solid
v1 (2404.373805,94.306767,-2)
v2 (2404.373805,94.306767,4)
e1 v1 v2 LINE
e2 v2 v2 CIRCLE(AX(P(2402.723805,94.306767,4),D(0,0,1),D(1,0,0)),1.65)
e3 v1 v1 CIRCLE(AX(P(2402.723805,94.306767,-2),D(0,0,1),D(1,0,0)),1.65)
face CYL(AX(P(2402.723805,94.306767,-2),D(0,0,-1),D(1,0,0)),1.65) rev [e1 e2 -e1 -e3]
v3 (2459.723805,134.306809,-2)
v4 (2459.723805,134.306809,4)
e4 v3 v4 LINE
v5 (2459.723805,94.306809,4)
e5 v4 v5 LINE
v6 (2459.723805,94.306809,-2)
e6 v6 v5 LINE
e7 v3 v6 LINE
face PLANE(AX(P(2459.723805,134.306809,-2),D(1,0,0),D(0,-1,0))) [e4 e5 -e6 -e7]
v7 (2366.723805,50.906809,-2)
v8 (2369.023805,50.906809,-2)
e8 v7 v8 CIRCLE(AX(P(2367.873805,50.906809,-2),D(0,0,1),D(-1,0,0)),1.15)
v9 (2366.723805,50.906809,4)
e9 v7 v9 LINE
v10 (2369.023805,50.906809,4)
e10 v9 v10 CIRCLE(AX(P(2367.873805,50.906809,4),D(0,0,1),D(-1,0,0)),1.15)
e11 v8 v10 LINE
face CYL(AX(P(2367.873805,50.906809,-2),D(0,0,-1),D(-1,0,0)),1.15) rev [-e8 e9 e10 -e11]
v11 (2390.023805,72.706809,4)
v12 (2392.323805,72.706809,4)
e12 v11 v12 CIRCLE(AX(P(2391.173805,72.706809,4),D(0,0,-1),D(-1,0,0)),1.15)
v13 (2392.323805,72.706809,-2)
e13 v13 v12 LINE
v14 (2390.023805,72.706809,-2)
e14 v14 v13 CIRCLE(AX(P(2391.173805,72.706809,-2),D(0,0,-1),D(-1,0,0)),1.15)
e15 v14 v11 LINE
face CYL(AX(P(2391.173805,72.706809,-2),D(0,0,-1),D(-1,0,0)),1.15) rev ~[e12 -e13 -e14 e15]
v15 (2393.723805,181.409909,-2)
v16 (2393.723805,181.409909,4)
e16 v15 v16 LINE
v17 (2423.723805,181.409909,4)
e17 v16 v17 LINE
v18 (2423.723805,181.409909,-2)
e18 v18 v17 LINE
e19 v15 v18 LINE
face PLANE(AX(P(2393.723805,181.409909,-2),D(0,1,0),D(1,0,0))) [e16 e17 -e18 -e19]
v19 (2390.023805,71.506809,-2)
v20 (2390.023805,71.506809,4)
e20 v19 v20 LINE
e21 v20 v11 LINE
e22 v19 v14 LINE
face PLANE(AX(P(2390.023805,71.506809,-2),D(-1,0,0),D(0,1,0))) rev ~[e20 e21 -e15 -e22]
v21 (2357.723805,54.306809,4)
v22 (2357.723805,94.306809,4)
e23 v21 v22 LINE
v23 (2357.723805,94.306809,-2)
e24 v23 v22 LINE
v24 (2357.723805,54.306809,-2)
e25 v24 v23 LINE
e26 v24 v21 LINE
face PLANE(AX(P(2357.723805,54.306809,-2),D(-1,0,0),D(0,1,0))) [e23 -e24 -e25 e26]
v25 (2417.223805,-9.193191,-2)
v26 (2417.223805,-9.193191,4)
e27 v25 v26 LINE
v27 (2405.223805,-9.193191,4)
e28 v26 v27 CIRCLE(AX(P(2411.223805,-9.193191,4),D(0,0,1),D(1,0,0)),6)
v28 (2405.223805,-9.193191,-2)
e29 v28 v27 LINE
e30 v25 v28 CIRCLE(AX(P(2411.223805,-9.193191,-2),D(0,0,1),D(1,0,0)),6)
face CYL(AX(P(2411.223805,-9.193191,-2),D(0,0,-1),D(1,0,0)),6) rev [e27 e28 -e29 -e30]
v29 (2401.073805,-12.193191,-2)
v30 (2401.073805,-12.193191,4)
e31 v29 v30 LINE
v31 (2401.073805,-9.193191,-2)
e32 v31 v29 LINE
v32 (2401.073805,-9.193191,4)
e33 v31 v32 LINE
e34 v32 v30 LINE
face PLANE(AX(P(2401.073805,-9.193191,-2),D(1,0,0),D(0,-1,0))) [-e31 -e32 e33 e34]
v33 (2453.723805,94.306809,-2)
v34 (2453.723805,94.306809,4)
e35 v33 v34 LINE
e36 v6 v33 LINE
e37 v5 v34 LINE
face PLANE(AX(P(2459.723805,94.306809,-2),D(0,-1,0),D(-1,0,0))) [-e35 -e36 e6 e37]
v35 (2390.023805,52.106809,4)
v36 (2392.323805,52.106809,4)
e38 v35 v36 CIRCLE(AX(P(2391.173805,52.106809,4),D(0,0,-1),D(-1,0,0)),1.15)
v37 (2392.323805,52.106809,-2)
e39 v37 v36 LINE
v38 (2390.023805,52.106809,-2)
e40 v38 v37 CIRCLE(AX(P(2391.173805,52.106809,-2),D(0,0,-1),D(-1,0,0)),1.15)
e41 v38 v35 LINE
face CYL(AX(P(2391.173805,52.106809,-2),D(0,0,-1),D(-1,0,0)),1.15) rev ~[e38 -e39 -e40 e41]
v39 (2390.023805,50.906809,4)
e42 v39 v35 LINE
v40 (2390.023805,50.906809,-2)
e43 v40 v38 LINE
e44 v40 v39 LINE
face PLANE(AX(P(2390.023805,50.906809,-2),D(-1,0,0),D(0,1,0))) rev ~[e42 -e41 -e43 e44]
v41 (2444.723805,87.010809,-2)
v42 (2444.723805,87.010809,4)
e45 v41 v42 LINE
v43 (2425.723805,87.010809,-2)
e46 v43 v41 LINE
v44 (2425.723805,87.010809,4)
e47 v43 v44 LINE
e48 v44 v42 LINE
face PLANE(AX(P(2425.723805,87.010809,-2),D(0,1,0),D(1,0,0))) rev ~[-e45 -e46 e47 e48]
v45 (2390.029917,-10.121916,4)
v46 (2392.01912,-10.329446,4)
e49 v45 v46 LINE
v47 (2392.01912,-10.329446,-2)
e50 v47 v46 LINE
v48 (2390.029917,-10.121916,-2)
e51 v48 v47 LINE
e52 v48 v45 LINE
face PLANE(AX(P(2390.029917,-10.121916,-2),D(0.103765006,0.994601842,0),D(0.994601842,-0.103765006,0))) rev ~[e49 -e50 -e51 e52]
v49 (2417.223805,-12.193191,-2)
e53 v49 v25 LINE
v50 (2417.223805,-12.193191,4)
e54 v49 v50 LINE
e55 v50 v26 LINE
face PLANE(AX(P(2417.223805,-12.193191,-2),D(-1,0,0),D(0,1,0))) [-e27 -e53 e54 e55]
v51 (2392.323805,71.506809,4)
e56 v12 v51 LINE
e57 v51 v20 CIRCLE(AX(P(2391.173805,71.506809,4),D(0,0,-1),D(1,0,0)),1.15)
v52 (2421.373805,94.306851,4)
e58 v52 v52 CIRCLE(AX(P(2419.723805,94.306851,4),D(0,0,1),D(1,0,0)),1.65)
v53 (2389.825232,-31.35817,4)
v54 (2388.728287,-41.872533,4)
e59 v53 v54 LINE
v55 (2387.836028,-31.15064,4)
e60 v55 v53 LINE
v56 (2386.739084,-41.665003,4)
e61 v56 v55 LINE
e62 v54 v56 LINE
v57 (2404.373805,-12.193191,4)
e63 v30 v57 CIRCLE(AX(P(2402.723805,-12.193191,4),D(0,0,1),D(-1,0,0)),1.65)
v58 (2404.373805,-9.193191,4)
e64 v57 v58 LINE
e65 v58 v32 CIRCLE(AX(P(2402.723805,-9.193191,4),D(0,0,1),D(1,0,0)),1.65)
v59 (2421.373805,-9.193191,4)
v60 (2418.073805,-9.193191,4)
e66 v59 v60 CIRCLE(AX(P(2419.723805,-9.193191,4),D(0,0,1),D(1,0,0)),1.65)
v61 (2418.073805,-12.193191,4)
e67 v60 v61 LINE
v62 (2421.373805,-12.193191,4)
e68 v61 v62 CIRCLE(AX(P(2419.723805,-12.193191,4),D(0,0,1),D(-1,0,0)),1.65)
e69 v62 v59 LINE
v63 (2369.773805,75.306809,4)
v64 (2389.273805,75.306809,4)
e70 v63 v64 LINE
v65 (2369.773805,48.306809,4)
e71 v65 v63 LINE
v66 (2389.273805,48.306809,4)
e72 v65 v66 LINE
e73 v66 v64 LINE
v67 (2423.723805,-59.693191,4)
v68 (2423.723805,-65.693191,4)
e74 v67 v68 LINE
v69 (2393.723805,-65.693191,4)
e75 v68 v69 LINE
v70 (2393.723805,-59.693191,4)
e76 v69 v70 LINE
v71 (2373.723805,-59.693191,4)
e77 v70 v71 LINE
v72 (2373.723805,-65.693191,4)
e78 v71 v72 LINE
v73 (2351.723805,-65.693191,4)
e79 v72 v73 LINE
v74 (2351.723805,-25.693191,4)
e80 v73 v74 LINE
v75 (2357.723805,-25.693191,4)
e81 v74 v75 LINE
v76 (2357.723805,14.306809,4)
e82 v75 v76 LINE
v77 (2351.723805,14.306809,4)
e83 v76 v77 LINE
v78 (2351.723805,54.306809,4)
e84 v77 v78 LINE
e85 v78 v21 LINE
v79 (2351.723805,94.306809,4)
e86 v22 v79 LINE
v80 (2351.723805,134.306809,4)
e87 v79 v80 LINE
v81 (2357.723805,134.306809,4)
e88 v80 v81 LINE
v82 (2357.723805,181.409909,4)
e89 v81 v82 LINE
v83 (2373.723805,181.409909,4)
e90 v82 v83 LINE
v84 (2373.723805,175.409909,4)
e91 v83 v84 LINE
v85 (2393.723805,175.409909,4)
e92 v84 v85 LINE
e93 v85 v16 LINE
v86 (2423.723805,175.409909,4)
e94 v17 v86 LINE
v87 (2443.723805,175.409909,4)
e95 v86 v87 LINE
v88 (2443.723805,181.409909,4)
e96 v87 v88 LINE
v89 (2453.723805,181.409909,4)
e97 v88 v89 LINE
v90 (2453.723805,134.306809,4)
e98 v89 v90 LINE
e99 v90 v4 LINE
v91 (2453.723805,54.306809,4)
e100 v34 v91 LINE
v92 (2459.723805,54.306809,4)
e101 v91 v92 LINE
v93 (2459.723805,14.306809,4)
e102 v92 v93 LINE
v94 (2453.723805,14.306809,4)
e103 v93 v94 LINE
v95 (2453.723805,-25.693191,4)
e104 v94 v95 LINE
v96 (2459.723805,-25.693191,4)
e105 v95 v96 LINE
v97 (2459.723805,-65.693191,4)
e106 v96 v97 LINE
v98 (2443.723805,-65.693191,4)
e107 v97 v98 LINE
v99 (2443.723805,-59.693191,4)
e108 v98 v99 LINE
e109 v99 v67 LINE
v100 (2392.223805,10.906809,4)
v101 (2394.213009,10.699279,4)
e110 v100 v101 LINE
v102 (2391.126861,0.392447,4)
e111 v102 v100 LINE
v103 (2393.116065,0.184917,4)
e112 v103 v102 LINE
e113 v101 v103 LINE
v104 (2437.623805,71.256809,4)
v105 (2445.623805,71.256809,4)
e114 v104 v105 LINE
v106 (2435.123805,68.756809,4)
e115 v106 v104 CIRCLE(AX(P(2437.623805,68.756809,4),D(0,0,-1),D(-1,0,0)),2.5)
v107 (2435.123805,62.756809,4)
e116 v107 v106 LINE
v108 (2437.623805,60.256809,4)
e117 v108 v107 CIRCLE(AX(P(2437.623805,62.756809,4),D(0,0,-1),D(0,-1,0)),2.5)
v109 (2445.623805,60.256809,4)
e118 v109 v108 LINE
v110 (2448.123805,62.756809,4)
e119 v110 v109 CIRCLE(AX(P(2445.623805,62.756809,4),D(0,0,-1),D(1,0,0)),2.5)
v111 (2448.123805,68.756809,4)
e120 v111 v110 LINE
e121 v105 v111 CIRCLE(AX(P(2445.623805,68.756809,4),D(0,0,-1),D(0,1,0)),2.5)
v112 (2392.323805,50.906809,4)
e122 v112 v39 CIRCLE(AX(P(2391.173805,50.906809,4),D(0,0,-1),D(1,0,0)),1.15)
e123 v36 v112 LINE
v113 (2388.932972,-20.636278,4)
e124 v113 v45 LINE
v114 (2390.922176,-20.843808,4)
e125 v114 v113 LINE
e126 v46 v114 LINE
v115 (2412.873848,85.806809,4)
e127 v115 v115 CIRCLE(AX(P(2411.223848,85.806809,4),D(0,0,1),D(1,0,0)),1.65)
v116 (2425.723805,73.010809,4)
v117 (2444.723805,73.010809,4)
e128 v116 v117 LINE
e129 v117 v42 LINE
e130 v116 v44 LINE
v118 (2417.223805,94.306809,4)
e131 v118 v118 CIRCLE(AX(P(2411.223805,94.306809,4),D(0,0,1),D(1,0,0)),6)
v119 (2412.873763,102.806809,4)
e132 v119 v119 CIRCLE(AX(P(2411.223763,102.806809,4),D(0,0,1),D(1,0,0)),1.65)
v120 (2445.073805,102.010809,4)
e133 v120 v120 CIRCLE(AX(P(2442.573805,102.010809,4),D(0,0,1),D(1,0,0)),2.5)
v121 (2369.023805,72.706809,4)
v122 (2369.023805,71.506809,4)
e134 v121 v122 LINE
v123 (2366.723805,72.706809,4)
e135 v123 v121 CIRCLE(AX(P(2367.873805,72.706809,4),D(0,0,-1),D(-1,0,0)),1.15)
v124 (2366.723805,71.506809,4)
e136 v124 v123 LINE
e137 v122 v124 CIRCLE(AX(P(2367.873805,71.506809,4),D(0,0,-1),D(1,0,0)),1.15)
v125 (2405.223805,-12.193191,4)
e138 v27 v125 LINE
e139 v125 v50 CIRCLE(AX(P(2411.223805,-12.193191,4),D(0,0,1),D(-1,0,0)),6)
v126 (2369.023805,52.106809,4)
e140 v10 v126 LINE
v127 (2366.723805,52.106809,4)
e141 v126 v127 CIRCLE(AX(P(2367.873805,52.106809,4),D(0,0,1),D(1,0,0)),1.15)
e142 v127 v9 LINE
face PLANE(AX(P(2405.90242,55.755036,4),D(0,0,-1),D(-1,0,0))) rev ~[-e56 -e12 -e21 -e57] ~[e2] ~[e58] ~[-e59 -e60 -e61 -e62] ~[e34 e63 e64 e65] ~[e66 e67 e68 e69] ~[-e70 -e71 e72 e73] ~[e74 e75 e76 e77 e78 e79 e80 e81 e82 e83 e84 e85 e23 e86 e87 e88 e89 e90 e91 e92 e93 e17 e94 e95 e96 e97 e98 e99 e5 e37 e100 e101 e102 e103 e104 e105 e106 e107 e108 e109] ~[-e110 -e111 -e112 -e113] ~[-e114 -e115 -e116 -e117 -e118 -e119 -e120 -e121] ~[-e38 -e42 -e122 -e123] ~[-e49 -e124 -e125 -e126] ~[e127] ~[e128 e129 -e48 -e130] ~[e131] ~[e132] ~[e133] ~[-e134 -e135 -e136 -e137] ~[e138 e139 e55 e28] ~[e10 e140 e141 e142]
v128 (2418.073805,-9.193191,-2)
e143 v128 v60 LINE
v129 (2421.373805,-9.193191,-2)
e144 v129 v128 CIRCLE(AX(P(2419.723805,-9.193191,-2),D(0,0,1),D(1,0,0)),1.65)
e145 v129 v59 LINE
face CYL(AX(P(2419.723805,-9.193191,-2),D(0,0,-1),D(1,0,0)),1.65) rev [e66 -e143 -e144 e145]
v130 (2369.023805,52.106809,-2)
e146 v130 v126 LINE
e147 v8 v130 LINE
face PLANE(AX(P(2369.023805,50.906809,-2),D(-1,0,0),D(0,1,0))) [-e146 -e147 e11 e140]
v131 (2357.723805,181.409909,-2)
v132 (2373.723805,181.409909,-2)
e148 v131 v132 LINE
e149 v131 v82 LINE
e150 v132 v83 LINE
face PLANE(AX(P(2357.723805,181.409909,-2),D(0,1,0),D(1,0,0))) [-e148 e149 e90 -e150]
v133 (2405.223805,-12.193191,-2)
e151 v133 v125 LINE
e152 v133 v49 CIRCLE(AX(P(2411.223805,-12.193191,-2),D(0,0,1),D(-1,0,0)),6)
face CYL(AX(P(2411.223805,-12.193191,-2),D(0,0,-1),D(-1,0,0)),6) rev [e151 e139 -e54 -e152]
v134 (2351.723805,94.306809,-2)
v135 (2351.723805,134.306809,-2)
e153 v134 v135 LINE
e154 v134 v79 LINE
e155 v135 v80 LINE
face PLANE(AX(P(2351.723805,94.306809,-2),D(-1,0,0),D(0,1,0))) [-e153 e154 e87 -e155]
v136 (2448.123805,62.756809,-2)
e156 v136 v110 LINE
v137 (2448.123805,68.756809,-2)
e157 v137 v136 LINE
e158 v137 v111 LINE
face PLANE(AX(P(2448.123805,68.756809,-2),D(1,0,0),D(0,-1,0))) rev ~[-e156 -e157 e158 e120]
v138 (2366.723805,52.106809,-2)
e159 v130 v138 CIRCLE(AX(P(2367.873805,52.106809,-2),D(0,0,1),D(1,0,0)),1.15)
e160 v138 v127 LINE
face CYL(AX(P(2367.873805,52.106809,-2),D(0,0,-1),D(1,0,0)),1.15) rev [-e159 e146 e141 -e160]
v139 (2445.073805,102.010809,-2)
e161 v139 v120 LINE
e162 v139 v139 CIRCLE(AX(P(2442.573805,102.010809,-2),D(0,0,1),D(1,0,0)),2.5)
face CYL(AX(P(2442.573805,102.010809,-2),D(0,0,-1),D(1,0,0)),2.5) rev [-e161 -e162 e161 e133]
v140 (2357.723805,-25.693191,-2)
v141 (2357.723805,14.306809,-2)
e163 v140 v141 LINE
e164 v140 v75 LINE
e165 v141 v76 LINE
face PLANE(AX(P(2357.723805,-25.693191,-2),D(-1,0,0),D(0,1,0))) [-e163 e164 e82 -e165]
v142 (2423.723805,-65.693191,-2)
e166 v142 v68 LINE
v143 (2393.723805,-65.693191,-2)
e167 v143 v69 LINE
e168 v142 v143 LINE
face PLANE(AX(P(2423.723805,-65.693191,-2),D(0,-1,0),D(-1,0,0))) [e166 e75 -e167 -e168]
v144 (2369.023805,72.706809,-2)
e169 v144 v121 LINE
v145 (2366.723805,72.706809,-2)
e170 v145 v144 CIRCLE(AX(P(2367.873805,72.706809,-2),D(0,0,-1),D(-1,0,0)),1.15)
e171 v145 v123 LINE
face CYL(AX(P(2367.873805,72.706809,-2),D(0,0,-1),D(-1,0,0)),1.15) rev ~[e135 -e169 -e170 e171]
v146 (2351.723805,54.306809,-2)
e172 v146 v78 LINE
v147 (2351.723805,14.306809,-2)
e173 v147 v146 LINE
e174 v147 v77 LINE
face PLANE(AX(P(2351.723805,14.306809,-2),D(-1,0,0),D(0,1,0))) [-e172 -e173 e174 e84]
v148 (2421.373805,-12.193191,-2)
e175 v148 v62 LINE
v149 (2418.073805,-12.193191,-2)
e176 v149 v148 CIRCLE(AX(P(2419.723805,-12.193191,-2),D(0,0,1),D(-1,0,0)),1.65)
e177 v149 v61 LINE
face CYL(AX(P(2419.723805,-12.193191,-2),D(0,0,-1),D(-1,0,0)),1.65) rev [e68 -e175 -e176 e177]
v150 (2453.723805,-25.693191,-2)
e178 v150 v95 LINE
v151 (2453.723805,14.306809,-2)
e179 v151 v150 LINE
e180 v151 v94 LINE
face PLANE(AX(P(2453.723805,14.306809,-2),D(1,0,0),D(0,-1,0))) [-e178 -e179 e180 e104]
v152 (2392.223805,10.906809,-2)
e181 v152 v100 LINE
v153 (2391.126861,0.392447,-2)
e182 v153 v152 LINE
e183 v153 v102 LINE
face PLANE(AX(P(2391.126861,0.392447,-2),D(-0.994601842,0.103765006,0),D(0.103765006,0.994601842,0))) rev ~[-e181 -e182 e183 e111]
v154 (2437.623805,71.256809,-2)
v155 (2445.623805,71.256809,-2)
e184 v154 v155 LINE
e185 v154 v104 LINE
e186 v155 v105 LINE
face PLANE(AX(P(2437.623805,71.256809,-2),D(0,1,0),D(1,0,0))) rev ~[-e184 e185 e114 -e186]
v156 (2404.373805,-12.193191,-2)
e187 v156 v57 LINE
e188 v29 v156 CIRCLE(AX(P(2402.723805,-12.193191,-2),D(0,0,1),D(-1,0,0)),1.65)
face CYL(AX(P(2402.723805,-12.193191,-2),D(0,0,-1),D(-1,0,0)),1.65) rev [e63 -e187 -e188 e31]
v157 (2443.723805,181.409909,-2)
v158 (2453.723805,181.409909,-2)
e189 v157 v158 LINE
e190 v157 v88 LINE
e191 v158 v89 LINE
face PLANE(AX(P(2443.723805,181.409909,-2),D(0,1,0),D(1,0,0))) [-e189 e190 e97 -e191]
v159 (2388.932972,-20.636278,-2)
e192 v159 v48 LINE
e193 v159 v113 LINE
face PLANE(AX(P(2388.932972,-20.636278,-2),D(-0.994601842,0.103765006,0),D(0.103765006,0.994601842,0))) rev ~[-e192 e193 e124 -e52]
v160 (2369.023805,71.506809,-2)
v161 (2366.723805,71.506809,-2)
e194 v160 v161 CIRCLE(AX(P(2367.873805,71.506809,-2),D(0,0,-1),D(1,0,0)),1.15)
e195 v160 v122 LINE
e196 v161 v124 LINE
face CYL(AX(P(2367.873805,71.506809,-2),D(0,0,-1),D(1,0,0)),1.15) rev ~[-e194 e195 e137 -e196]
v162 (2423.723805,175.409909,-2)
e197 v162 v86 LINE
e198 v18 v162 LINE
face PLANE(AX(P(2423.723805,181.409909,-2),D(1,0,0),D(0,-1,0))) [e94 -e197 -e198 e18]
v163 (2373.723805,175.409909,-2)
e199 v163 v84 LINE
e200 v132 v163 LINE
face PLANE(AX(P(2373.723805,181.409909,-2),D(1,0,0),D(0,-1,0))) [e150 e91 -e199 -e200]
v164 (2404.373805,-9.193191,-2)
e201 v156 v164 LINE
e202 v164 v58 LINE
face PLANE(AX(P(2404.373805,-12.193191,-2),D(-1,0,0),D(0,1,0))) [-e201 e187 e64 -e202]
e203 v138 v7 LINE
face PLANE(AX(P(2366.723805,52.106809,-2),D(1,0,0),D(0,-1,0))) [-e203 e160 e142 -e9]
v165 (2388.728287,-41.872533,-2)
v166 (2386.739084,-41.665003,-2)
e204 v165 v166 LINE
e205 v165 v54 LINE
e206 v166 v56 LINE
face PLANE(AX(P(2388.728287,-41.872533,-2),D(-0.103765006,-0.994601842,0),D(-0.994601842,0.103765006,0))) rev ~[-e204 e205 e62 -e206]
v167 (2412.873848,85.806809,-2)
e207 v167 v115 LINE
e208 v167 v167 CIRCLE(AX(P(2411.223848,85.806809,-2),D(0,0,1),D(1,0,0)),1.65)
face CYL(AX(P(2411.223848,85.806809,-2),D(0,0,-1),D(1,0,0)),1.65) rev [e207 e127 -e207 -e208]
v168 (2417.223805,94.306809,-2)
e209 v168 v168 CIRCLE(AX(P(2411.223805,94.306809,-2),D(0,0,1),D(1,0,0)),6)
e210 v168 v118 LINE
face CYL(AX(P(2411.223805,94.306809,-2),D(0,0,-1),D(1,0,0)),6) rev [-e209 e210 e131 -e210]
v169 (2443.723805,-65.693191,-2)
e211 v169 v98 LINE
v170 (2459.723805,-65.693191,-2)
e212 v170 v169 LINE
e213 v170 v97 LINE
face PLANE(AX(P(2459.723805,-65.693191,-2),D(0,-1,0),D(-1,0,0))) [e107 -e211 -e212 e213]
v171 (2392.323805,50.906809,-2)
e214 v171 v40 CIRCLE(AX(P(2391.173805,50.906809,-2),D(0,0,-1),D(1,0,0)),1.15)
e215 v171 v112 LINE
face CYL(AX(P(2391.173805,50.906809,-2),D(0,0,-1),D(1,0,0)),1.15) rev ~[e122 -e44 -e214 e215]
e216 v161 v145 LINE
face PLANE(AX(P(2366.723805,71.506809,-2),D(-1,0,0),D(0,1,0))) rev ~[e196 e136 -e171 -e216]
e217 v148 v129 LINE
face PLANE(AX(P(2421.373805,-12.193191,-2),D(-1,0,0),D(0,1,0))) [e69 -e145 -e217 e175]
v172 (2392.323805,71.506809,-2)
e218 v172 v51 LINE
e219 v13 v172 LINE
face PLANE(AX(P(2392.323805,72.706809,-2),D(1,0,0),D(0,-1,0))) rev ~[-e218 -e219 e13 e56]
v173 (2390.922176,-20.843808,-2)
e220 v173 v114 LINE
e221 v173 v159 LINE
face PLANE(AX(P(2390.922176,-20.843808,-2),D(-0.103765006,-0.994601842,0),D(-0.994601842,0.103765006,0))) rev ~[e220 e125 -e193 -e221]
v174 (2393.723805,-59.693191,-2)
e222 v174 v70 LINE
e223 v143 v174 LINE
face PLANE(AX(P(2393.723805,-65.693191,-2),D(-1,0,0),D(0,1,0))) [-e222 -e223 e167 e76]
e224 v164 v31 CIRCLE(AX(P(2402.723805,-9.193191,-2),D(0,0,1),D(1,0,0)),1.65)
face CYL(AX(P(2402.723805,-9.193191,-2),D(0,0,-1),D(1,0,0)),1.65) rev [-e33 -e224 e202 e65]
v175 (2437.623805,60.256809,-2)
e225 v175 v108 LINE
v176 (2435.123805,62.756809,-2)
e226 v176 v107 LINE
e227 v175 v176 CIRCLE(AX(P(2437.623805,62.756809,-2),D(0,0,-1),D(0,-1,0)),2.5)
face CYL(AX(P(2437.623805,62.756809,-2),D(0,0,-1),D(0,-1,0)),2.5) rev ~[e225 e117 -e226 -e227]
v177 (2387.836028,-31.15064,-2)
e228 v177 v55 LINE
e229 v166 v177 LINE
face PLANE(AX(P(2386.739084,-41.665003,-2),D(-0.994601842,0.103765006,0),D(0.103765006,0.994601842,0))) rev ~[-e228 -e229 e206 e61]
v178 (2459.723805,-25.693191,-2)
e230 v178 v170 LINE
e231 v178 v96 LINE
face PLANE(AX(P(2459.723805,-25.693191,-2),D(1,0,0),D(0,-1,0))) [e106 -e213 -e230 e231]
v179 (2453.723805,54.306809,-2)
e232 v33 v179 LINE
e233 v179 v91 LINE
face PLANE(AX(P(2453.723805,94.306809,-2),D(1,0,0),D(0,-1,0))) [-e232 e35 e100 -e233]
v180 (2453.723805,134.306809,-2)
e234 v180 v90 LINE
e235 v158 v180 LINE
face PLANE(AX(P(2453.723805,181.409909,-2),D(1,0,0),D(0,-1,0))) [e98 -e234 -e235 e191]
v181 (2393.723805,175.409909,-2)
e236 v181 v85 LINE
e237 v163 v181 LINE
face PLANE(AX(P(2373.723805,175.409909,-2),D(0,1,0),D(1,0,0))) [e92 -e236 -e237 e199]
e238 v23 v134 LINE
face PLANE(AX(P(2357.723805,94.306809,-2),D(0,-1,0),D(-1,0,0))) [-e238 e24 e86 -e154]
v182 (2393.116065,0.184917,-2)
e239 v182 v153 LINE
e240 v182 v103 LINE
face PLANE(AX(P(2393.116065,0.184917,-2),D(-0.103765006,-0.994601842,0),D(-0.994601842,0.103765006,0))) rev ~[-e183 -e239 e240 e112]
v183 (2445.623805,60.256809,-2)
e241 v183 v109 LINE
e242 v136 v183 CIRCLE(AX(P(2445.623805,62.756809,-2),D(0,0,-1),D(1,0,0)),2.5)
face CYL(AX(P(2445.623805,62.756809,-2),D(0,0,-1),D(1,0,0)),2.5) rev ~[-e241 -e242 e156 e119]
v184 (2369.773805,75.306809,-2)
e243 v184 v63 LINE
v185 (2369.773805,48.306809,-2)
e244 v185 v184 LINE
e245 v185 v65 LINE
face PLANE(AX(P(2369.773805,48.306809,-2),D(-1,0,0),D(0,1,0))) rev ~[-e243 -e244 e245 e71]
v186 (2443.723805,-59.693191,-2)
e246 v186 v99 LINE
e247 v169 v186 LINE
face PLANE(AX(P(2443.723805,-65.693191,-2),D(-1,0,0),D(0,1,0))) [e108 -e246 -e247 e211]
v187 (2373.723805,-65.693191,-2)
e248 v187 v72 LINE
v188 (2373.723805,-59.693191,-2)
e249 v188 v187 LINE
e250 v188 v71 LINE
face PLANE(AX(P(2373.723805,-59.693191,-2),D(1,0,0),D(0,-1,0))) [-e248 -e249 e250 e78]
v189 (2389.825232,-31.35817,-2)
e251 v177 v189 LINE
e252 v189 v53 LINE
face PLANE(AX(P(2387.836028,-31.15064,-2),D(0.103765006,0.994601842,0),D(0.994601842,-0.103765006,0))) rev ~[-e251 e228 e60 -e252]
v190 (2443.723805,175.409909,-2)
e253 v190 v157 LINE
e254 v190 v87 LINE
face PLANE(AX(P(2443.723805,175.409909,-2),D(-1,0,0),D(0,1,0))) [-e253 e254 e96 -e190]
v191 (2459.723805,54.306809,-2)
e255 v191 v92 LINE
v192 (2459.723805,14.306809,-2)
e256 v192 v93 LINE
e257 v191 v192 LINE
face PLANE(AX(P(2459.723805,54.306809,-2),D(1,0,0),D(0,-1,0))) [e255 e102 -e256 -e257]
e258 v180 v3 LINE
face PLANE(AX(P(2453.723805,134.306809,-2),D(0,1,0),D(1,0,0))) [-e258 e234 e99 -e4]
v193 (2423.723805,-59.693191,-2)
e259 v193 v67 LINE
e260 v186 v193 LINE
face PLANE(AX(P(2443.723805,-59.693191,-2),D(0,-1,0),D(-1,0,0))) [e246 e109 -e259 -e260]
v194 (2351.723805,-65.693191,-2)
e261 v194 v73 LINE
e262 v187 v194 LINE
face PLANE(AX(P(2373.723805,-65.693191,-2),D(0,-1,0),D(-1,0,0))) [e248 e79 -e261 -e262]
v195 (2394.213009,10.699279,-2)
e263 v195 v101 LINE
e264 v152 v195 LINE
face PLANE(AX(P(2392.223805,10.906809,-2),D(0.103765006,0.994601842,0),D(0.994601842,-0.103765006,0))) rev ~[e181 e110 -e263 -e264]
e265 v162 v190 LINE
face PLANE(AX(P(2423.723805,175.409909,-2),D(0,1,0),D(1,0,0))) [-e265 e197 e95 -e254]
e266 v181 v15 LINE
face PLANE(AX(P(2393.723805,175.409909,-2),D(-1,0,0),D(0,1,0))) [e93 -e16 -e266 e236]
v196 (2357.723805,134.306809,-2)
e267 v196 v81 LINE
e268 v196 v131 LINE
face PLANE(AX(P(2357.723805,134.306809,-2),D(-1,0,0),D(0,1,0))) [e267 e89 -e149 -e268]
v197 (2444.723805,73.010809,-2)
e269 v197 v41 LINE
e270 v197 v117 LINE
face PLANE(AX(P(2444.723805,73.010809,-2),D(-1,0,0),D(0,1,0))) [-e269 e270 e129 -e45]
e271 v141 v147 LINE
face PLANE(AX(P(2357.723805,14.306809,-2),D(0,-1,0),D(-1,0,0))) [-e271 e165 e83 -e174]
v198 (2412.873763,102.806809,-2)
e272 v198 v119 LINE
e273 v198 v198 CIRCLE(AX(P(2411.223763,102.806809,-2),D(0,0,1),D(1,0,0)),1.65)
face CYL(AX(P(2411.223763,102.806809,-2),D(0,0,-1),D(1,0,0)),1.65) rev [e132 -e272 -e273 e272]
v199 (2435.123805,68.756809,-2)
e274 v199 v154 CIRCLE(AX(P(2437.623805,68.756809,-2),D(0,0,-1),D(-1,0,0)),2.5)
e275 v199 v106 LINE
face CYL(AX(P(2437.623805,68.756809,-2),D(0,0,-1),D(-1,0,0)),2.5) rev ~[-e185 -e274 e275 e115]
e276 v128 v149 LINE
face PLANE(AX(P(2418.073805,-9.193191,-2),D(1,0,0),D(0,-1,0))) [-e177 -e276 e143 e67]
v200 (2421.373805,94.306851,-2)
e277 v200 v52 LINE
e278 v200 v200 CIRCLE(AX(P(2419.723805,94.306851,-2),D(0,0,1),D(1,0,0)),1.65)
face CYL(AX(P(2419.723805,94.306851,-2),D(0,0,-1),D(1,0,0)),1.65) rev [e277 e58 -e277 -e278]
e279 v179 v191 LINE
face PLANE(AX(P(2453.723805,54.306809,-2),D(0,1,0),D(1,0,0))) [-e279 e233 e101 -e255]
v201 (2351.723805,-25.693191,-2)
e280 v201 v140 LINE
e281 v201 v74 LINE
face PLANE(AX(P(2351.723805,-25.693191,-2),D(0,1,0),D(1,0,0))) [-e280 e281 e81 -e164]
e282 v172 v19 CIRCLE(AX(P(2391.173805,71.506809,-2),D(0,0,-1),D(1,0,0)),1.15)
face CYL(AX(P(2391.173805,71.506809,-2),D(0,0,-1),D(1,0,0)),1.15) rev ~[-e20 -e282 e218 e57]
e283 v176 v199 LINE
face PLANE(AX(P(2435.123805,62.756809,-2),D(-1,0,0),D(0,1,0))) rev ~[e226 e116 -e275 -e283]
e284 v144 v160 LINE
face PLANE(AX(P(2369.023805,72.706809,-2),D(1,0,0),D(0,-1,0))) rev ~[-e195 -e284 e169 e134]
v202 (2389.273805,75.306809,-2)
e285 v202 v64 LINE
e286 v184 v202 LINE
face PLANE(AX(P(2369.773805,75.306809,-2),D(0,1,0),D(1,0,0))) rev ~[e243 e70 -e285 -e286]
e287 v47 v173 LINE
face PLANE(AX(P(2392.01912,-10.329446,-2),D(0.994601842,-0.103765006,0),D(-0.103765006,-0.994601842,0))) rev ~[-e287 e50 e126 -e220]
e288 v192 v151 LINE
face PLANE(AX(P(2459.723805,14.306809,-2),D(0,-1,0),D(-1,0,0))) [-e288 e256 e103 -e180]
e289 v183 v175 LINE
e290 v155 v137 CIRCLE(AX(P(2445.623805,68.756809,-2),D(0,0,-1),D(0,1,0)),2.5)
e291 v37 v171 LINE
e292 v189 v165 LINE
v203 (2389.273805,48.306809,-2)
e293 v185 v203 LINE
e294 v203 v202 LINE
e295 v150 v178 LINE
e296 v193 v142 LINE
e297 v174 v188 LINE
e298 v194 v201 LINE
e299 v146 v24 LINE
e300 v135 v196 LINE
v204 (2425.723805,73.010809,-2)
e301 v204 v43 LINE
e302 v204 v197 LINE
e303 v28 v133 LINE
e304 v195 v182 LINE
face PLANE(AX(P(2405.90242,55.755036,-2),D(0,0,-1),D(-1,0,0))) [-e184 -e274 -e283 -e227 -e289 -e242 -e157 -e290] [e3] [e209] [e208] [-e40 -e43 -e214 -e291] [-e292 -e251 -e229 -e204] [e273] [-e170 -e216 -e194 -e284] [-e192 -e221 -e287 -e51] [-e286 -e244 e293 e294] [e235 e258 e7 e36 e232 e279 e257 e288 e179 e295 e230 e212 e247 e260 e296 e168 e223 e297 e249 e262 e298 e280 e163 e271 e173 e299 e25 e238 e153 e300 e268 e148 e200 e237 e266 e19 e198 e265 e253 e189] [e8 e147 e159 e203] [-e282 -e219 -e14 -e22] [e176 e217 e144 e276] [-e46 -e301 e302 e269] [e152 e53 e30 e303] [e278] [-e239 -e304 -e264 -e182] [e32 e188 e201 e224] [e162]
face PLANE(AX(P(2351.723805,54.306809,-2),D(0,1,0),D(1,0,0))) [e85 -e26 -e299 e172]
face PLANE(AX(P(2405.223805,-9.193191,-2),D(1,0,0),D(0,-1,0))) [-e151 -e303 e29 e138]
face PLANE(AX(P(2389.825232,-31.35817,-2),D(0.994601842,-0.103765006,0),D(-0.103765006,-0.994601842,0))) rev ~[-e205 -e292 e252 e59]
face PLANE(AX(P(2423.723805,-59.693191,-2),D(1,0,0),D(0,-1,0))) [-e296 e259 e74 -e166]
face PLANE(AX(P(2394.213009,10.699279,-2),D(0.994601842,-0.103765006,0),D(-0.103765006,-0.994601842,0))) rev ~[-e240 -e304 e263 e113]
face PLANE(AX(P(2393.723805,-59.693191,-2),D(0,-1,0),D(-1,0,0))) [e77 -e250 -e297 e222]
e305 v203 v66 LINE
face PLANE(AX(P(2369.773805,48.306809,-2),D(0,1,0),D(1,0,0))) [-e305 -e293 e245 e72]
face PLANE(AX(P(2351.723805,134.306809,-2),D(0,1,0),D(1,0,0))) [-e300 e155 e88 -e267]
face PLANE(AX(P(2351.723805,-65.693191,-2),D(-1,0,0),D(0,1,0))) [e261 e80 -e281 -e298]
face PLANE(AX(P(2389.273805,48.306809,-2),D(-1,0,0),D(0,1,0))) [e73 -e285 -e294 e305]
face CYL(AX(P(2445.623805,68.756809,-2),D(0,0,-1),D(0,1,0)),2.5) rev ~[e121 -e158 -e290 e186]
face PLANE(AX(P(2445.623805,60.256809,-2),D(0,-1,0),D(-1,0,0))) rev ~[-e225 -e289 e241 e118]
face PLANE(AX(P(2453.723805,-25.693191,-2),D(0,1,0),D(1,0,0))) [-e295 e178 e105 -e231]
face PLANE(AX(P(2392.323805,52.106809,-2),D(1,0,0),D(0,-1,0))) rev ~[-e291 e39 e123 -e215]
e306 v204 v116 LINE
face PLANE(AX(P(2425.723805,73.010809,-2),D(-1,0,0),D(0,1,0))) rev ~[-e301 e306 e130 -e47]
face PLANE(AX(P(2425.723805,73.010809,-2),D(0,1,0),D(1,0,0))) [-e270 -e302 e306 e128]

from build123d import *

# Parameters (mm, degrees)
ESQUISSE1_R        = 1.65
ESQUISSE1_R_2      = 6
ESQUISSE1_R_3      = 2.5
ESQUISSE1_W        = 19.5
ESQUISSE1_H        = 27
ESQUISSE1_W_2      = 19
ESQUISSE1_H_2      = 14
BOSS_EXTRU_1_DEPTH = 6


with BuildPart() as part:
    # Esquisse1 → Boss.-Extru.1 (new body)
    with BuildSketch(Plane.XY.offset(-2)):
        Polygon((2459.723805414, -65.693190997), (2443.723805414, -65.693190997), (2443.723805414, -59.693190997), (2423.723805414, -59.693190997), (2423.723805414, -65.693190997), (2393.723805414, -65.693190997), (2393.723805414, -59.693190997), (2373.723805414, -59.693190997), (2373.723805414, -65.693190997), (2351.723805414, -65.693190997), (2351.723805414, -25.693190997), (2357.723805414, -25.693190997), (2357.723805414, 14.306809003), (2351.723805414, 14.306809003), (2351.723805414, 54.306809003), (2357.723805414, 54.306809003), (2357.723805414, 94.306809003), (2351.723805414, 94.306809003), (2351.723805414, 134.306809003), (2357.723805414, 134.306809003), (2357.723805414, 181.409908735), (2373.723805414, 181.409908735), (2373.723805414, 175.409908735), (2393.723805414, 175.409908735), (2393.723805414, 181.409908735), (2423.723805414, 181.409908735), (2423.723805414, 175.409908735), (2443.723805414, 175.409908735), (2443.723805414, 181.409908735), (2453.723805414, 181.409908735), (2453.723805414, 134.306809003), (2459.723805414, 134.306809003), (2459.723805414, 94.306809003), (2453.723805414, 94.306809003), (2453.723805414, 54.306809003), (2459.723805414, 54.306809003), (2459.723805414, 14.306809003), (2453.723805414, 14.306809003), (2453.723805414, -25.693190997), (2459.723805414, -25.693190997), align=None)
        with Locations((2411.223763127, 102.806809003)):
            Circle(ESQUISSE1_R, mode=Mode.SUBTRACT)
        with Locations((2419.723805414, 94.306851291)):
            Circle(ESQUISSE1_R, mode=Mode.SUBTRACT)
        with Locations((2411.223805414, 94.306809003)):
            Circle(ESQUISSE1_R_2, mode=Mode.SUBTRACT)
        with Locations((2402.723805414, 94.306766716)):
            Circle(ESQUISSE1_R, mode=Mode.SUBTRACT)
        with Locations((2411.223847701, 85.806809003)):
            Circle(ESQUISSE1_R, mode=Mode.SUBTRACT)
        with Locations((2442.573805414, 102.010809003)):
            Circle(ESQUISSE1_R_3, mode=Mode.SUBTRACT)
        with Locations((2379.523805414, 61.806809003)):
            Rectangle(ESQUISSE1_W, ESQUISSE1_H, mode=Mode.SUBTRACT)
        with BuildLine():
            Line((2366.723805414, 71.506809003), (2366.723805414, 72.706809003))
            ThreePointArc((2366.723805414, 72.706809003), (2367.873805414, 73.856809003), (2369.023805414, 72.706809003))
            Line((2369.023805414, 72.706809003), (2369.023805414, 71.506809003))
            ThreePointArc((2369.023805414, 71.506809003), (2367.873805414, 70.356809003), (2366.723805414, 71.506809003))
        make_face(mode=Mode.SUBTRACT)
        with BuildLine():
            Line((2392.323805414, 72.706809003), (2392.323805414, 71.506809003))
            ThreePointArc((2392.323805414, 71.506809003), (2391.173805414, 70.356809003), (2390.023805414, 71.506809003))
            Line((2390.023805414, 71.506809003), (2390.023805414, 72.706809003))
            ThreePointArc((2390.023805414, 72.706809003), (2391.173805414, 73.856809003), (2392.323805414, 72.706809003))
        make_face(mode=Mode.SUBTRACT)
        with BuildLine():
            Line((2392.323805414, 52.106809003), (2392.323805414, 50.906809003))
            ThreePointArc((2392.323805414, 50.906809003), (2391.173805414, 49.756809003), (2390.023805414, 50.906809003))
            Line((2390.023805414, 50.906809003), (2390.023805414, 52.106809003))
            ThreePointArc((2390.023805414, 52.106809003), (2391.173805414, 53.256809003), (2392.323805414, 52.106809003))
        make_face(mode=Mode.SUBTRACT)
        with BuildLine():
            Line((2366.723805414, 52.106809003), (2366.723805414, 50.906809003))
            ThreePointArc((2366.723805414, 50.906809003), (2367.873805414, 49.756809003), (2369.023805414, 50.906809003))
            Line((2369.023805414, 50.906809003), (2369.023805414, 52.106809003))
            ThreePointArc((2369.023805414, 52.106809003), (2367.873805414, 53.256809003), (2366.723805414, 52.106809003))
        make_face(mode=Mode.SUBTRACT)
        with BuildLine():
            Line((2418.073805414, -9.193190997), (2418.073805414, -12.193190997))
            ThreePointArc((2418.073805414, -12.193190997), (2419.723805414, -13.843190997), (2421.373805414, -12.193190997))
            Line((2421.373805414, -12.193190997), (2421.373805414, -9.193190997))
            ThreePointArc((2421.373805414, -9.193190997), (2419.723805414, -7.543190997), (2418.073805414, -9.193190997))
        make_face(mode=Mode.SUBTRACT)
        with BuildLine():
            Line((2401.073805414, -9.193190997), (2401.073805414, -12.193190997))
            ThreePointArc((2401.073805414, -12.193190997), (2402.723805414, -13.843190997), (2404.373805414, -12.193190997))
            Line((2404.373805414, -12.193190997), (2404.373805414, -9.193190997))
            ThreePointArc((2404.373805414, -9.193190997), (2402.723805414, -7.543190997), (2401.073805414, -9.193190997))
        make_face(mode=Mode.SUBTRACT)
        with BuildLine():
            Line((2405.223805414, -9.193190997), (2405.223805414, -12.193190997))
            ThreePointArc((2405.223805414, -12.193190997), (2411.223805414, -18.193190997), (2417.223805414, -12.193190997))
            Line((2417.223805414, -12.193190997), (2417.223805414, -9.193190997))
            ThreePointArc((2417.223805414, -9.193190997), (2411.223805414, -3.193190997), (2405.223805414, -9.193190997))
        make_face(mode=Mode.SUBTRACT)
        with Locations((2435.223805414, 80.010809003)):
            Rectangle(ESQUISSE1_W_2, ESQUISSE1_H_2, mode=Mode.SUBTRACT)
        with BuildLine():
            Line((2448.123805414, 68.756809003), (2448.123805414, 62.756809003))
            ThreePointArc((2448.123805414, 62.756809003), (2447.391572367, 60.98904205), (2445.623805414, 60.256809003))
            Line((2445.623805414, 60.256809003), (2437.623805414, 60.256809003))
            ThreePointArc((2437.623805414, 60.256809003), (2435.856038461, 60.98904205), (2435.123805414, 62.756809003))
            Line((2435.123805414, 62.756809003), (2435.123805414, 68.756809003))
            ThreePointArc((2435.123805414, 68.756809003), (2435.856038461, 70.524575956), (2437.623805414, 71.256809003))
            Line((2437.623805414, 71.256809003), (2445.623805414, 71.256809003))
            ThreePointArc((2445.623805414, 71.256809003), (2447.391572367, 70.524575956), (2448.123805414, 68.756809003))
        make_face(mode=Mode.SUBTRACT)
        Polygon((2386.739083665, -41.66500263), (2387.836028015, -31.150640303), (2389.825231698, -31.358170315), (2388.728287348, -41.872532642), align=None, mode=Mode.SUBTRACT)
        Polygon((2388.932972364, -20.636277977), (2390.029916714, -10.12191565), (2392.019120398, -10.329445662), (2390.922176048, -20.843807989), align=None, mode=Mode.SUBTRACT)
        Polygon((2391.126861064, 0.392446677), (2392.223805414, 10.906809003), (2394.213009097, 10.699278991), (2393.116064748, 0.184916664), align=None, mode=Mode.SUBTRACT)
    extrude(amount=BOSS_EXTRU_1_DEPTH)


solid = part.part
